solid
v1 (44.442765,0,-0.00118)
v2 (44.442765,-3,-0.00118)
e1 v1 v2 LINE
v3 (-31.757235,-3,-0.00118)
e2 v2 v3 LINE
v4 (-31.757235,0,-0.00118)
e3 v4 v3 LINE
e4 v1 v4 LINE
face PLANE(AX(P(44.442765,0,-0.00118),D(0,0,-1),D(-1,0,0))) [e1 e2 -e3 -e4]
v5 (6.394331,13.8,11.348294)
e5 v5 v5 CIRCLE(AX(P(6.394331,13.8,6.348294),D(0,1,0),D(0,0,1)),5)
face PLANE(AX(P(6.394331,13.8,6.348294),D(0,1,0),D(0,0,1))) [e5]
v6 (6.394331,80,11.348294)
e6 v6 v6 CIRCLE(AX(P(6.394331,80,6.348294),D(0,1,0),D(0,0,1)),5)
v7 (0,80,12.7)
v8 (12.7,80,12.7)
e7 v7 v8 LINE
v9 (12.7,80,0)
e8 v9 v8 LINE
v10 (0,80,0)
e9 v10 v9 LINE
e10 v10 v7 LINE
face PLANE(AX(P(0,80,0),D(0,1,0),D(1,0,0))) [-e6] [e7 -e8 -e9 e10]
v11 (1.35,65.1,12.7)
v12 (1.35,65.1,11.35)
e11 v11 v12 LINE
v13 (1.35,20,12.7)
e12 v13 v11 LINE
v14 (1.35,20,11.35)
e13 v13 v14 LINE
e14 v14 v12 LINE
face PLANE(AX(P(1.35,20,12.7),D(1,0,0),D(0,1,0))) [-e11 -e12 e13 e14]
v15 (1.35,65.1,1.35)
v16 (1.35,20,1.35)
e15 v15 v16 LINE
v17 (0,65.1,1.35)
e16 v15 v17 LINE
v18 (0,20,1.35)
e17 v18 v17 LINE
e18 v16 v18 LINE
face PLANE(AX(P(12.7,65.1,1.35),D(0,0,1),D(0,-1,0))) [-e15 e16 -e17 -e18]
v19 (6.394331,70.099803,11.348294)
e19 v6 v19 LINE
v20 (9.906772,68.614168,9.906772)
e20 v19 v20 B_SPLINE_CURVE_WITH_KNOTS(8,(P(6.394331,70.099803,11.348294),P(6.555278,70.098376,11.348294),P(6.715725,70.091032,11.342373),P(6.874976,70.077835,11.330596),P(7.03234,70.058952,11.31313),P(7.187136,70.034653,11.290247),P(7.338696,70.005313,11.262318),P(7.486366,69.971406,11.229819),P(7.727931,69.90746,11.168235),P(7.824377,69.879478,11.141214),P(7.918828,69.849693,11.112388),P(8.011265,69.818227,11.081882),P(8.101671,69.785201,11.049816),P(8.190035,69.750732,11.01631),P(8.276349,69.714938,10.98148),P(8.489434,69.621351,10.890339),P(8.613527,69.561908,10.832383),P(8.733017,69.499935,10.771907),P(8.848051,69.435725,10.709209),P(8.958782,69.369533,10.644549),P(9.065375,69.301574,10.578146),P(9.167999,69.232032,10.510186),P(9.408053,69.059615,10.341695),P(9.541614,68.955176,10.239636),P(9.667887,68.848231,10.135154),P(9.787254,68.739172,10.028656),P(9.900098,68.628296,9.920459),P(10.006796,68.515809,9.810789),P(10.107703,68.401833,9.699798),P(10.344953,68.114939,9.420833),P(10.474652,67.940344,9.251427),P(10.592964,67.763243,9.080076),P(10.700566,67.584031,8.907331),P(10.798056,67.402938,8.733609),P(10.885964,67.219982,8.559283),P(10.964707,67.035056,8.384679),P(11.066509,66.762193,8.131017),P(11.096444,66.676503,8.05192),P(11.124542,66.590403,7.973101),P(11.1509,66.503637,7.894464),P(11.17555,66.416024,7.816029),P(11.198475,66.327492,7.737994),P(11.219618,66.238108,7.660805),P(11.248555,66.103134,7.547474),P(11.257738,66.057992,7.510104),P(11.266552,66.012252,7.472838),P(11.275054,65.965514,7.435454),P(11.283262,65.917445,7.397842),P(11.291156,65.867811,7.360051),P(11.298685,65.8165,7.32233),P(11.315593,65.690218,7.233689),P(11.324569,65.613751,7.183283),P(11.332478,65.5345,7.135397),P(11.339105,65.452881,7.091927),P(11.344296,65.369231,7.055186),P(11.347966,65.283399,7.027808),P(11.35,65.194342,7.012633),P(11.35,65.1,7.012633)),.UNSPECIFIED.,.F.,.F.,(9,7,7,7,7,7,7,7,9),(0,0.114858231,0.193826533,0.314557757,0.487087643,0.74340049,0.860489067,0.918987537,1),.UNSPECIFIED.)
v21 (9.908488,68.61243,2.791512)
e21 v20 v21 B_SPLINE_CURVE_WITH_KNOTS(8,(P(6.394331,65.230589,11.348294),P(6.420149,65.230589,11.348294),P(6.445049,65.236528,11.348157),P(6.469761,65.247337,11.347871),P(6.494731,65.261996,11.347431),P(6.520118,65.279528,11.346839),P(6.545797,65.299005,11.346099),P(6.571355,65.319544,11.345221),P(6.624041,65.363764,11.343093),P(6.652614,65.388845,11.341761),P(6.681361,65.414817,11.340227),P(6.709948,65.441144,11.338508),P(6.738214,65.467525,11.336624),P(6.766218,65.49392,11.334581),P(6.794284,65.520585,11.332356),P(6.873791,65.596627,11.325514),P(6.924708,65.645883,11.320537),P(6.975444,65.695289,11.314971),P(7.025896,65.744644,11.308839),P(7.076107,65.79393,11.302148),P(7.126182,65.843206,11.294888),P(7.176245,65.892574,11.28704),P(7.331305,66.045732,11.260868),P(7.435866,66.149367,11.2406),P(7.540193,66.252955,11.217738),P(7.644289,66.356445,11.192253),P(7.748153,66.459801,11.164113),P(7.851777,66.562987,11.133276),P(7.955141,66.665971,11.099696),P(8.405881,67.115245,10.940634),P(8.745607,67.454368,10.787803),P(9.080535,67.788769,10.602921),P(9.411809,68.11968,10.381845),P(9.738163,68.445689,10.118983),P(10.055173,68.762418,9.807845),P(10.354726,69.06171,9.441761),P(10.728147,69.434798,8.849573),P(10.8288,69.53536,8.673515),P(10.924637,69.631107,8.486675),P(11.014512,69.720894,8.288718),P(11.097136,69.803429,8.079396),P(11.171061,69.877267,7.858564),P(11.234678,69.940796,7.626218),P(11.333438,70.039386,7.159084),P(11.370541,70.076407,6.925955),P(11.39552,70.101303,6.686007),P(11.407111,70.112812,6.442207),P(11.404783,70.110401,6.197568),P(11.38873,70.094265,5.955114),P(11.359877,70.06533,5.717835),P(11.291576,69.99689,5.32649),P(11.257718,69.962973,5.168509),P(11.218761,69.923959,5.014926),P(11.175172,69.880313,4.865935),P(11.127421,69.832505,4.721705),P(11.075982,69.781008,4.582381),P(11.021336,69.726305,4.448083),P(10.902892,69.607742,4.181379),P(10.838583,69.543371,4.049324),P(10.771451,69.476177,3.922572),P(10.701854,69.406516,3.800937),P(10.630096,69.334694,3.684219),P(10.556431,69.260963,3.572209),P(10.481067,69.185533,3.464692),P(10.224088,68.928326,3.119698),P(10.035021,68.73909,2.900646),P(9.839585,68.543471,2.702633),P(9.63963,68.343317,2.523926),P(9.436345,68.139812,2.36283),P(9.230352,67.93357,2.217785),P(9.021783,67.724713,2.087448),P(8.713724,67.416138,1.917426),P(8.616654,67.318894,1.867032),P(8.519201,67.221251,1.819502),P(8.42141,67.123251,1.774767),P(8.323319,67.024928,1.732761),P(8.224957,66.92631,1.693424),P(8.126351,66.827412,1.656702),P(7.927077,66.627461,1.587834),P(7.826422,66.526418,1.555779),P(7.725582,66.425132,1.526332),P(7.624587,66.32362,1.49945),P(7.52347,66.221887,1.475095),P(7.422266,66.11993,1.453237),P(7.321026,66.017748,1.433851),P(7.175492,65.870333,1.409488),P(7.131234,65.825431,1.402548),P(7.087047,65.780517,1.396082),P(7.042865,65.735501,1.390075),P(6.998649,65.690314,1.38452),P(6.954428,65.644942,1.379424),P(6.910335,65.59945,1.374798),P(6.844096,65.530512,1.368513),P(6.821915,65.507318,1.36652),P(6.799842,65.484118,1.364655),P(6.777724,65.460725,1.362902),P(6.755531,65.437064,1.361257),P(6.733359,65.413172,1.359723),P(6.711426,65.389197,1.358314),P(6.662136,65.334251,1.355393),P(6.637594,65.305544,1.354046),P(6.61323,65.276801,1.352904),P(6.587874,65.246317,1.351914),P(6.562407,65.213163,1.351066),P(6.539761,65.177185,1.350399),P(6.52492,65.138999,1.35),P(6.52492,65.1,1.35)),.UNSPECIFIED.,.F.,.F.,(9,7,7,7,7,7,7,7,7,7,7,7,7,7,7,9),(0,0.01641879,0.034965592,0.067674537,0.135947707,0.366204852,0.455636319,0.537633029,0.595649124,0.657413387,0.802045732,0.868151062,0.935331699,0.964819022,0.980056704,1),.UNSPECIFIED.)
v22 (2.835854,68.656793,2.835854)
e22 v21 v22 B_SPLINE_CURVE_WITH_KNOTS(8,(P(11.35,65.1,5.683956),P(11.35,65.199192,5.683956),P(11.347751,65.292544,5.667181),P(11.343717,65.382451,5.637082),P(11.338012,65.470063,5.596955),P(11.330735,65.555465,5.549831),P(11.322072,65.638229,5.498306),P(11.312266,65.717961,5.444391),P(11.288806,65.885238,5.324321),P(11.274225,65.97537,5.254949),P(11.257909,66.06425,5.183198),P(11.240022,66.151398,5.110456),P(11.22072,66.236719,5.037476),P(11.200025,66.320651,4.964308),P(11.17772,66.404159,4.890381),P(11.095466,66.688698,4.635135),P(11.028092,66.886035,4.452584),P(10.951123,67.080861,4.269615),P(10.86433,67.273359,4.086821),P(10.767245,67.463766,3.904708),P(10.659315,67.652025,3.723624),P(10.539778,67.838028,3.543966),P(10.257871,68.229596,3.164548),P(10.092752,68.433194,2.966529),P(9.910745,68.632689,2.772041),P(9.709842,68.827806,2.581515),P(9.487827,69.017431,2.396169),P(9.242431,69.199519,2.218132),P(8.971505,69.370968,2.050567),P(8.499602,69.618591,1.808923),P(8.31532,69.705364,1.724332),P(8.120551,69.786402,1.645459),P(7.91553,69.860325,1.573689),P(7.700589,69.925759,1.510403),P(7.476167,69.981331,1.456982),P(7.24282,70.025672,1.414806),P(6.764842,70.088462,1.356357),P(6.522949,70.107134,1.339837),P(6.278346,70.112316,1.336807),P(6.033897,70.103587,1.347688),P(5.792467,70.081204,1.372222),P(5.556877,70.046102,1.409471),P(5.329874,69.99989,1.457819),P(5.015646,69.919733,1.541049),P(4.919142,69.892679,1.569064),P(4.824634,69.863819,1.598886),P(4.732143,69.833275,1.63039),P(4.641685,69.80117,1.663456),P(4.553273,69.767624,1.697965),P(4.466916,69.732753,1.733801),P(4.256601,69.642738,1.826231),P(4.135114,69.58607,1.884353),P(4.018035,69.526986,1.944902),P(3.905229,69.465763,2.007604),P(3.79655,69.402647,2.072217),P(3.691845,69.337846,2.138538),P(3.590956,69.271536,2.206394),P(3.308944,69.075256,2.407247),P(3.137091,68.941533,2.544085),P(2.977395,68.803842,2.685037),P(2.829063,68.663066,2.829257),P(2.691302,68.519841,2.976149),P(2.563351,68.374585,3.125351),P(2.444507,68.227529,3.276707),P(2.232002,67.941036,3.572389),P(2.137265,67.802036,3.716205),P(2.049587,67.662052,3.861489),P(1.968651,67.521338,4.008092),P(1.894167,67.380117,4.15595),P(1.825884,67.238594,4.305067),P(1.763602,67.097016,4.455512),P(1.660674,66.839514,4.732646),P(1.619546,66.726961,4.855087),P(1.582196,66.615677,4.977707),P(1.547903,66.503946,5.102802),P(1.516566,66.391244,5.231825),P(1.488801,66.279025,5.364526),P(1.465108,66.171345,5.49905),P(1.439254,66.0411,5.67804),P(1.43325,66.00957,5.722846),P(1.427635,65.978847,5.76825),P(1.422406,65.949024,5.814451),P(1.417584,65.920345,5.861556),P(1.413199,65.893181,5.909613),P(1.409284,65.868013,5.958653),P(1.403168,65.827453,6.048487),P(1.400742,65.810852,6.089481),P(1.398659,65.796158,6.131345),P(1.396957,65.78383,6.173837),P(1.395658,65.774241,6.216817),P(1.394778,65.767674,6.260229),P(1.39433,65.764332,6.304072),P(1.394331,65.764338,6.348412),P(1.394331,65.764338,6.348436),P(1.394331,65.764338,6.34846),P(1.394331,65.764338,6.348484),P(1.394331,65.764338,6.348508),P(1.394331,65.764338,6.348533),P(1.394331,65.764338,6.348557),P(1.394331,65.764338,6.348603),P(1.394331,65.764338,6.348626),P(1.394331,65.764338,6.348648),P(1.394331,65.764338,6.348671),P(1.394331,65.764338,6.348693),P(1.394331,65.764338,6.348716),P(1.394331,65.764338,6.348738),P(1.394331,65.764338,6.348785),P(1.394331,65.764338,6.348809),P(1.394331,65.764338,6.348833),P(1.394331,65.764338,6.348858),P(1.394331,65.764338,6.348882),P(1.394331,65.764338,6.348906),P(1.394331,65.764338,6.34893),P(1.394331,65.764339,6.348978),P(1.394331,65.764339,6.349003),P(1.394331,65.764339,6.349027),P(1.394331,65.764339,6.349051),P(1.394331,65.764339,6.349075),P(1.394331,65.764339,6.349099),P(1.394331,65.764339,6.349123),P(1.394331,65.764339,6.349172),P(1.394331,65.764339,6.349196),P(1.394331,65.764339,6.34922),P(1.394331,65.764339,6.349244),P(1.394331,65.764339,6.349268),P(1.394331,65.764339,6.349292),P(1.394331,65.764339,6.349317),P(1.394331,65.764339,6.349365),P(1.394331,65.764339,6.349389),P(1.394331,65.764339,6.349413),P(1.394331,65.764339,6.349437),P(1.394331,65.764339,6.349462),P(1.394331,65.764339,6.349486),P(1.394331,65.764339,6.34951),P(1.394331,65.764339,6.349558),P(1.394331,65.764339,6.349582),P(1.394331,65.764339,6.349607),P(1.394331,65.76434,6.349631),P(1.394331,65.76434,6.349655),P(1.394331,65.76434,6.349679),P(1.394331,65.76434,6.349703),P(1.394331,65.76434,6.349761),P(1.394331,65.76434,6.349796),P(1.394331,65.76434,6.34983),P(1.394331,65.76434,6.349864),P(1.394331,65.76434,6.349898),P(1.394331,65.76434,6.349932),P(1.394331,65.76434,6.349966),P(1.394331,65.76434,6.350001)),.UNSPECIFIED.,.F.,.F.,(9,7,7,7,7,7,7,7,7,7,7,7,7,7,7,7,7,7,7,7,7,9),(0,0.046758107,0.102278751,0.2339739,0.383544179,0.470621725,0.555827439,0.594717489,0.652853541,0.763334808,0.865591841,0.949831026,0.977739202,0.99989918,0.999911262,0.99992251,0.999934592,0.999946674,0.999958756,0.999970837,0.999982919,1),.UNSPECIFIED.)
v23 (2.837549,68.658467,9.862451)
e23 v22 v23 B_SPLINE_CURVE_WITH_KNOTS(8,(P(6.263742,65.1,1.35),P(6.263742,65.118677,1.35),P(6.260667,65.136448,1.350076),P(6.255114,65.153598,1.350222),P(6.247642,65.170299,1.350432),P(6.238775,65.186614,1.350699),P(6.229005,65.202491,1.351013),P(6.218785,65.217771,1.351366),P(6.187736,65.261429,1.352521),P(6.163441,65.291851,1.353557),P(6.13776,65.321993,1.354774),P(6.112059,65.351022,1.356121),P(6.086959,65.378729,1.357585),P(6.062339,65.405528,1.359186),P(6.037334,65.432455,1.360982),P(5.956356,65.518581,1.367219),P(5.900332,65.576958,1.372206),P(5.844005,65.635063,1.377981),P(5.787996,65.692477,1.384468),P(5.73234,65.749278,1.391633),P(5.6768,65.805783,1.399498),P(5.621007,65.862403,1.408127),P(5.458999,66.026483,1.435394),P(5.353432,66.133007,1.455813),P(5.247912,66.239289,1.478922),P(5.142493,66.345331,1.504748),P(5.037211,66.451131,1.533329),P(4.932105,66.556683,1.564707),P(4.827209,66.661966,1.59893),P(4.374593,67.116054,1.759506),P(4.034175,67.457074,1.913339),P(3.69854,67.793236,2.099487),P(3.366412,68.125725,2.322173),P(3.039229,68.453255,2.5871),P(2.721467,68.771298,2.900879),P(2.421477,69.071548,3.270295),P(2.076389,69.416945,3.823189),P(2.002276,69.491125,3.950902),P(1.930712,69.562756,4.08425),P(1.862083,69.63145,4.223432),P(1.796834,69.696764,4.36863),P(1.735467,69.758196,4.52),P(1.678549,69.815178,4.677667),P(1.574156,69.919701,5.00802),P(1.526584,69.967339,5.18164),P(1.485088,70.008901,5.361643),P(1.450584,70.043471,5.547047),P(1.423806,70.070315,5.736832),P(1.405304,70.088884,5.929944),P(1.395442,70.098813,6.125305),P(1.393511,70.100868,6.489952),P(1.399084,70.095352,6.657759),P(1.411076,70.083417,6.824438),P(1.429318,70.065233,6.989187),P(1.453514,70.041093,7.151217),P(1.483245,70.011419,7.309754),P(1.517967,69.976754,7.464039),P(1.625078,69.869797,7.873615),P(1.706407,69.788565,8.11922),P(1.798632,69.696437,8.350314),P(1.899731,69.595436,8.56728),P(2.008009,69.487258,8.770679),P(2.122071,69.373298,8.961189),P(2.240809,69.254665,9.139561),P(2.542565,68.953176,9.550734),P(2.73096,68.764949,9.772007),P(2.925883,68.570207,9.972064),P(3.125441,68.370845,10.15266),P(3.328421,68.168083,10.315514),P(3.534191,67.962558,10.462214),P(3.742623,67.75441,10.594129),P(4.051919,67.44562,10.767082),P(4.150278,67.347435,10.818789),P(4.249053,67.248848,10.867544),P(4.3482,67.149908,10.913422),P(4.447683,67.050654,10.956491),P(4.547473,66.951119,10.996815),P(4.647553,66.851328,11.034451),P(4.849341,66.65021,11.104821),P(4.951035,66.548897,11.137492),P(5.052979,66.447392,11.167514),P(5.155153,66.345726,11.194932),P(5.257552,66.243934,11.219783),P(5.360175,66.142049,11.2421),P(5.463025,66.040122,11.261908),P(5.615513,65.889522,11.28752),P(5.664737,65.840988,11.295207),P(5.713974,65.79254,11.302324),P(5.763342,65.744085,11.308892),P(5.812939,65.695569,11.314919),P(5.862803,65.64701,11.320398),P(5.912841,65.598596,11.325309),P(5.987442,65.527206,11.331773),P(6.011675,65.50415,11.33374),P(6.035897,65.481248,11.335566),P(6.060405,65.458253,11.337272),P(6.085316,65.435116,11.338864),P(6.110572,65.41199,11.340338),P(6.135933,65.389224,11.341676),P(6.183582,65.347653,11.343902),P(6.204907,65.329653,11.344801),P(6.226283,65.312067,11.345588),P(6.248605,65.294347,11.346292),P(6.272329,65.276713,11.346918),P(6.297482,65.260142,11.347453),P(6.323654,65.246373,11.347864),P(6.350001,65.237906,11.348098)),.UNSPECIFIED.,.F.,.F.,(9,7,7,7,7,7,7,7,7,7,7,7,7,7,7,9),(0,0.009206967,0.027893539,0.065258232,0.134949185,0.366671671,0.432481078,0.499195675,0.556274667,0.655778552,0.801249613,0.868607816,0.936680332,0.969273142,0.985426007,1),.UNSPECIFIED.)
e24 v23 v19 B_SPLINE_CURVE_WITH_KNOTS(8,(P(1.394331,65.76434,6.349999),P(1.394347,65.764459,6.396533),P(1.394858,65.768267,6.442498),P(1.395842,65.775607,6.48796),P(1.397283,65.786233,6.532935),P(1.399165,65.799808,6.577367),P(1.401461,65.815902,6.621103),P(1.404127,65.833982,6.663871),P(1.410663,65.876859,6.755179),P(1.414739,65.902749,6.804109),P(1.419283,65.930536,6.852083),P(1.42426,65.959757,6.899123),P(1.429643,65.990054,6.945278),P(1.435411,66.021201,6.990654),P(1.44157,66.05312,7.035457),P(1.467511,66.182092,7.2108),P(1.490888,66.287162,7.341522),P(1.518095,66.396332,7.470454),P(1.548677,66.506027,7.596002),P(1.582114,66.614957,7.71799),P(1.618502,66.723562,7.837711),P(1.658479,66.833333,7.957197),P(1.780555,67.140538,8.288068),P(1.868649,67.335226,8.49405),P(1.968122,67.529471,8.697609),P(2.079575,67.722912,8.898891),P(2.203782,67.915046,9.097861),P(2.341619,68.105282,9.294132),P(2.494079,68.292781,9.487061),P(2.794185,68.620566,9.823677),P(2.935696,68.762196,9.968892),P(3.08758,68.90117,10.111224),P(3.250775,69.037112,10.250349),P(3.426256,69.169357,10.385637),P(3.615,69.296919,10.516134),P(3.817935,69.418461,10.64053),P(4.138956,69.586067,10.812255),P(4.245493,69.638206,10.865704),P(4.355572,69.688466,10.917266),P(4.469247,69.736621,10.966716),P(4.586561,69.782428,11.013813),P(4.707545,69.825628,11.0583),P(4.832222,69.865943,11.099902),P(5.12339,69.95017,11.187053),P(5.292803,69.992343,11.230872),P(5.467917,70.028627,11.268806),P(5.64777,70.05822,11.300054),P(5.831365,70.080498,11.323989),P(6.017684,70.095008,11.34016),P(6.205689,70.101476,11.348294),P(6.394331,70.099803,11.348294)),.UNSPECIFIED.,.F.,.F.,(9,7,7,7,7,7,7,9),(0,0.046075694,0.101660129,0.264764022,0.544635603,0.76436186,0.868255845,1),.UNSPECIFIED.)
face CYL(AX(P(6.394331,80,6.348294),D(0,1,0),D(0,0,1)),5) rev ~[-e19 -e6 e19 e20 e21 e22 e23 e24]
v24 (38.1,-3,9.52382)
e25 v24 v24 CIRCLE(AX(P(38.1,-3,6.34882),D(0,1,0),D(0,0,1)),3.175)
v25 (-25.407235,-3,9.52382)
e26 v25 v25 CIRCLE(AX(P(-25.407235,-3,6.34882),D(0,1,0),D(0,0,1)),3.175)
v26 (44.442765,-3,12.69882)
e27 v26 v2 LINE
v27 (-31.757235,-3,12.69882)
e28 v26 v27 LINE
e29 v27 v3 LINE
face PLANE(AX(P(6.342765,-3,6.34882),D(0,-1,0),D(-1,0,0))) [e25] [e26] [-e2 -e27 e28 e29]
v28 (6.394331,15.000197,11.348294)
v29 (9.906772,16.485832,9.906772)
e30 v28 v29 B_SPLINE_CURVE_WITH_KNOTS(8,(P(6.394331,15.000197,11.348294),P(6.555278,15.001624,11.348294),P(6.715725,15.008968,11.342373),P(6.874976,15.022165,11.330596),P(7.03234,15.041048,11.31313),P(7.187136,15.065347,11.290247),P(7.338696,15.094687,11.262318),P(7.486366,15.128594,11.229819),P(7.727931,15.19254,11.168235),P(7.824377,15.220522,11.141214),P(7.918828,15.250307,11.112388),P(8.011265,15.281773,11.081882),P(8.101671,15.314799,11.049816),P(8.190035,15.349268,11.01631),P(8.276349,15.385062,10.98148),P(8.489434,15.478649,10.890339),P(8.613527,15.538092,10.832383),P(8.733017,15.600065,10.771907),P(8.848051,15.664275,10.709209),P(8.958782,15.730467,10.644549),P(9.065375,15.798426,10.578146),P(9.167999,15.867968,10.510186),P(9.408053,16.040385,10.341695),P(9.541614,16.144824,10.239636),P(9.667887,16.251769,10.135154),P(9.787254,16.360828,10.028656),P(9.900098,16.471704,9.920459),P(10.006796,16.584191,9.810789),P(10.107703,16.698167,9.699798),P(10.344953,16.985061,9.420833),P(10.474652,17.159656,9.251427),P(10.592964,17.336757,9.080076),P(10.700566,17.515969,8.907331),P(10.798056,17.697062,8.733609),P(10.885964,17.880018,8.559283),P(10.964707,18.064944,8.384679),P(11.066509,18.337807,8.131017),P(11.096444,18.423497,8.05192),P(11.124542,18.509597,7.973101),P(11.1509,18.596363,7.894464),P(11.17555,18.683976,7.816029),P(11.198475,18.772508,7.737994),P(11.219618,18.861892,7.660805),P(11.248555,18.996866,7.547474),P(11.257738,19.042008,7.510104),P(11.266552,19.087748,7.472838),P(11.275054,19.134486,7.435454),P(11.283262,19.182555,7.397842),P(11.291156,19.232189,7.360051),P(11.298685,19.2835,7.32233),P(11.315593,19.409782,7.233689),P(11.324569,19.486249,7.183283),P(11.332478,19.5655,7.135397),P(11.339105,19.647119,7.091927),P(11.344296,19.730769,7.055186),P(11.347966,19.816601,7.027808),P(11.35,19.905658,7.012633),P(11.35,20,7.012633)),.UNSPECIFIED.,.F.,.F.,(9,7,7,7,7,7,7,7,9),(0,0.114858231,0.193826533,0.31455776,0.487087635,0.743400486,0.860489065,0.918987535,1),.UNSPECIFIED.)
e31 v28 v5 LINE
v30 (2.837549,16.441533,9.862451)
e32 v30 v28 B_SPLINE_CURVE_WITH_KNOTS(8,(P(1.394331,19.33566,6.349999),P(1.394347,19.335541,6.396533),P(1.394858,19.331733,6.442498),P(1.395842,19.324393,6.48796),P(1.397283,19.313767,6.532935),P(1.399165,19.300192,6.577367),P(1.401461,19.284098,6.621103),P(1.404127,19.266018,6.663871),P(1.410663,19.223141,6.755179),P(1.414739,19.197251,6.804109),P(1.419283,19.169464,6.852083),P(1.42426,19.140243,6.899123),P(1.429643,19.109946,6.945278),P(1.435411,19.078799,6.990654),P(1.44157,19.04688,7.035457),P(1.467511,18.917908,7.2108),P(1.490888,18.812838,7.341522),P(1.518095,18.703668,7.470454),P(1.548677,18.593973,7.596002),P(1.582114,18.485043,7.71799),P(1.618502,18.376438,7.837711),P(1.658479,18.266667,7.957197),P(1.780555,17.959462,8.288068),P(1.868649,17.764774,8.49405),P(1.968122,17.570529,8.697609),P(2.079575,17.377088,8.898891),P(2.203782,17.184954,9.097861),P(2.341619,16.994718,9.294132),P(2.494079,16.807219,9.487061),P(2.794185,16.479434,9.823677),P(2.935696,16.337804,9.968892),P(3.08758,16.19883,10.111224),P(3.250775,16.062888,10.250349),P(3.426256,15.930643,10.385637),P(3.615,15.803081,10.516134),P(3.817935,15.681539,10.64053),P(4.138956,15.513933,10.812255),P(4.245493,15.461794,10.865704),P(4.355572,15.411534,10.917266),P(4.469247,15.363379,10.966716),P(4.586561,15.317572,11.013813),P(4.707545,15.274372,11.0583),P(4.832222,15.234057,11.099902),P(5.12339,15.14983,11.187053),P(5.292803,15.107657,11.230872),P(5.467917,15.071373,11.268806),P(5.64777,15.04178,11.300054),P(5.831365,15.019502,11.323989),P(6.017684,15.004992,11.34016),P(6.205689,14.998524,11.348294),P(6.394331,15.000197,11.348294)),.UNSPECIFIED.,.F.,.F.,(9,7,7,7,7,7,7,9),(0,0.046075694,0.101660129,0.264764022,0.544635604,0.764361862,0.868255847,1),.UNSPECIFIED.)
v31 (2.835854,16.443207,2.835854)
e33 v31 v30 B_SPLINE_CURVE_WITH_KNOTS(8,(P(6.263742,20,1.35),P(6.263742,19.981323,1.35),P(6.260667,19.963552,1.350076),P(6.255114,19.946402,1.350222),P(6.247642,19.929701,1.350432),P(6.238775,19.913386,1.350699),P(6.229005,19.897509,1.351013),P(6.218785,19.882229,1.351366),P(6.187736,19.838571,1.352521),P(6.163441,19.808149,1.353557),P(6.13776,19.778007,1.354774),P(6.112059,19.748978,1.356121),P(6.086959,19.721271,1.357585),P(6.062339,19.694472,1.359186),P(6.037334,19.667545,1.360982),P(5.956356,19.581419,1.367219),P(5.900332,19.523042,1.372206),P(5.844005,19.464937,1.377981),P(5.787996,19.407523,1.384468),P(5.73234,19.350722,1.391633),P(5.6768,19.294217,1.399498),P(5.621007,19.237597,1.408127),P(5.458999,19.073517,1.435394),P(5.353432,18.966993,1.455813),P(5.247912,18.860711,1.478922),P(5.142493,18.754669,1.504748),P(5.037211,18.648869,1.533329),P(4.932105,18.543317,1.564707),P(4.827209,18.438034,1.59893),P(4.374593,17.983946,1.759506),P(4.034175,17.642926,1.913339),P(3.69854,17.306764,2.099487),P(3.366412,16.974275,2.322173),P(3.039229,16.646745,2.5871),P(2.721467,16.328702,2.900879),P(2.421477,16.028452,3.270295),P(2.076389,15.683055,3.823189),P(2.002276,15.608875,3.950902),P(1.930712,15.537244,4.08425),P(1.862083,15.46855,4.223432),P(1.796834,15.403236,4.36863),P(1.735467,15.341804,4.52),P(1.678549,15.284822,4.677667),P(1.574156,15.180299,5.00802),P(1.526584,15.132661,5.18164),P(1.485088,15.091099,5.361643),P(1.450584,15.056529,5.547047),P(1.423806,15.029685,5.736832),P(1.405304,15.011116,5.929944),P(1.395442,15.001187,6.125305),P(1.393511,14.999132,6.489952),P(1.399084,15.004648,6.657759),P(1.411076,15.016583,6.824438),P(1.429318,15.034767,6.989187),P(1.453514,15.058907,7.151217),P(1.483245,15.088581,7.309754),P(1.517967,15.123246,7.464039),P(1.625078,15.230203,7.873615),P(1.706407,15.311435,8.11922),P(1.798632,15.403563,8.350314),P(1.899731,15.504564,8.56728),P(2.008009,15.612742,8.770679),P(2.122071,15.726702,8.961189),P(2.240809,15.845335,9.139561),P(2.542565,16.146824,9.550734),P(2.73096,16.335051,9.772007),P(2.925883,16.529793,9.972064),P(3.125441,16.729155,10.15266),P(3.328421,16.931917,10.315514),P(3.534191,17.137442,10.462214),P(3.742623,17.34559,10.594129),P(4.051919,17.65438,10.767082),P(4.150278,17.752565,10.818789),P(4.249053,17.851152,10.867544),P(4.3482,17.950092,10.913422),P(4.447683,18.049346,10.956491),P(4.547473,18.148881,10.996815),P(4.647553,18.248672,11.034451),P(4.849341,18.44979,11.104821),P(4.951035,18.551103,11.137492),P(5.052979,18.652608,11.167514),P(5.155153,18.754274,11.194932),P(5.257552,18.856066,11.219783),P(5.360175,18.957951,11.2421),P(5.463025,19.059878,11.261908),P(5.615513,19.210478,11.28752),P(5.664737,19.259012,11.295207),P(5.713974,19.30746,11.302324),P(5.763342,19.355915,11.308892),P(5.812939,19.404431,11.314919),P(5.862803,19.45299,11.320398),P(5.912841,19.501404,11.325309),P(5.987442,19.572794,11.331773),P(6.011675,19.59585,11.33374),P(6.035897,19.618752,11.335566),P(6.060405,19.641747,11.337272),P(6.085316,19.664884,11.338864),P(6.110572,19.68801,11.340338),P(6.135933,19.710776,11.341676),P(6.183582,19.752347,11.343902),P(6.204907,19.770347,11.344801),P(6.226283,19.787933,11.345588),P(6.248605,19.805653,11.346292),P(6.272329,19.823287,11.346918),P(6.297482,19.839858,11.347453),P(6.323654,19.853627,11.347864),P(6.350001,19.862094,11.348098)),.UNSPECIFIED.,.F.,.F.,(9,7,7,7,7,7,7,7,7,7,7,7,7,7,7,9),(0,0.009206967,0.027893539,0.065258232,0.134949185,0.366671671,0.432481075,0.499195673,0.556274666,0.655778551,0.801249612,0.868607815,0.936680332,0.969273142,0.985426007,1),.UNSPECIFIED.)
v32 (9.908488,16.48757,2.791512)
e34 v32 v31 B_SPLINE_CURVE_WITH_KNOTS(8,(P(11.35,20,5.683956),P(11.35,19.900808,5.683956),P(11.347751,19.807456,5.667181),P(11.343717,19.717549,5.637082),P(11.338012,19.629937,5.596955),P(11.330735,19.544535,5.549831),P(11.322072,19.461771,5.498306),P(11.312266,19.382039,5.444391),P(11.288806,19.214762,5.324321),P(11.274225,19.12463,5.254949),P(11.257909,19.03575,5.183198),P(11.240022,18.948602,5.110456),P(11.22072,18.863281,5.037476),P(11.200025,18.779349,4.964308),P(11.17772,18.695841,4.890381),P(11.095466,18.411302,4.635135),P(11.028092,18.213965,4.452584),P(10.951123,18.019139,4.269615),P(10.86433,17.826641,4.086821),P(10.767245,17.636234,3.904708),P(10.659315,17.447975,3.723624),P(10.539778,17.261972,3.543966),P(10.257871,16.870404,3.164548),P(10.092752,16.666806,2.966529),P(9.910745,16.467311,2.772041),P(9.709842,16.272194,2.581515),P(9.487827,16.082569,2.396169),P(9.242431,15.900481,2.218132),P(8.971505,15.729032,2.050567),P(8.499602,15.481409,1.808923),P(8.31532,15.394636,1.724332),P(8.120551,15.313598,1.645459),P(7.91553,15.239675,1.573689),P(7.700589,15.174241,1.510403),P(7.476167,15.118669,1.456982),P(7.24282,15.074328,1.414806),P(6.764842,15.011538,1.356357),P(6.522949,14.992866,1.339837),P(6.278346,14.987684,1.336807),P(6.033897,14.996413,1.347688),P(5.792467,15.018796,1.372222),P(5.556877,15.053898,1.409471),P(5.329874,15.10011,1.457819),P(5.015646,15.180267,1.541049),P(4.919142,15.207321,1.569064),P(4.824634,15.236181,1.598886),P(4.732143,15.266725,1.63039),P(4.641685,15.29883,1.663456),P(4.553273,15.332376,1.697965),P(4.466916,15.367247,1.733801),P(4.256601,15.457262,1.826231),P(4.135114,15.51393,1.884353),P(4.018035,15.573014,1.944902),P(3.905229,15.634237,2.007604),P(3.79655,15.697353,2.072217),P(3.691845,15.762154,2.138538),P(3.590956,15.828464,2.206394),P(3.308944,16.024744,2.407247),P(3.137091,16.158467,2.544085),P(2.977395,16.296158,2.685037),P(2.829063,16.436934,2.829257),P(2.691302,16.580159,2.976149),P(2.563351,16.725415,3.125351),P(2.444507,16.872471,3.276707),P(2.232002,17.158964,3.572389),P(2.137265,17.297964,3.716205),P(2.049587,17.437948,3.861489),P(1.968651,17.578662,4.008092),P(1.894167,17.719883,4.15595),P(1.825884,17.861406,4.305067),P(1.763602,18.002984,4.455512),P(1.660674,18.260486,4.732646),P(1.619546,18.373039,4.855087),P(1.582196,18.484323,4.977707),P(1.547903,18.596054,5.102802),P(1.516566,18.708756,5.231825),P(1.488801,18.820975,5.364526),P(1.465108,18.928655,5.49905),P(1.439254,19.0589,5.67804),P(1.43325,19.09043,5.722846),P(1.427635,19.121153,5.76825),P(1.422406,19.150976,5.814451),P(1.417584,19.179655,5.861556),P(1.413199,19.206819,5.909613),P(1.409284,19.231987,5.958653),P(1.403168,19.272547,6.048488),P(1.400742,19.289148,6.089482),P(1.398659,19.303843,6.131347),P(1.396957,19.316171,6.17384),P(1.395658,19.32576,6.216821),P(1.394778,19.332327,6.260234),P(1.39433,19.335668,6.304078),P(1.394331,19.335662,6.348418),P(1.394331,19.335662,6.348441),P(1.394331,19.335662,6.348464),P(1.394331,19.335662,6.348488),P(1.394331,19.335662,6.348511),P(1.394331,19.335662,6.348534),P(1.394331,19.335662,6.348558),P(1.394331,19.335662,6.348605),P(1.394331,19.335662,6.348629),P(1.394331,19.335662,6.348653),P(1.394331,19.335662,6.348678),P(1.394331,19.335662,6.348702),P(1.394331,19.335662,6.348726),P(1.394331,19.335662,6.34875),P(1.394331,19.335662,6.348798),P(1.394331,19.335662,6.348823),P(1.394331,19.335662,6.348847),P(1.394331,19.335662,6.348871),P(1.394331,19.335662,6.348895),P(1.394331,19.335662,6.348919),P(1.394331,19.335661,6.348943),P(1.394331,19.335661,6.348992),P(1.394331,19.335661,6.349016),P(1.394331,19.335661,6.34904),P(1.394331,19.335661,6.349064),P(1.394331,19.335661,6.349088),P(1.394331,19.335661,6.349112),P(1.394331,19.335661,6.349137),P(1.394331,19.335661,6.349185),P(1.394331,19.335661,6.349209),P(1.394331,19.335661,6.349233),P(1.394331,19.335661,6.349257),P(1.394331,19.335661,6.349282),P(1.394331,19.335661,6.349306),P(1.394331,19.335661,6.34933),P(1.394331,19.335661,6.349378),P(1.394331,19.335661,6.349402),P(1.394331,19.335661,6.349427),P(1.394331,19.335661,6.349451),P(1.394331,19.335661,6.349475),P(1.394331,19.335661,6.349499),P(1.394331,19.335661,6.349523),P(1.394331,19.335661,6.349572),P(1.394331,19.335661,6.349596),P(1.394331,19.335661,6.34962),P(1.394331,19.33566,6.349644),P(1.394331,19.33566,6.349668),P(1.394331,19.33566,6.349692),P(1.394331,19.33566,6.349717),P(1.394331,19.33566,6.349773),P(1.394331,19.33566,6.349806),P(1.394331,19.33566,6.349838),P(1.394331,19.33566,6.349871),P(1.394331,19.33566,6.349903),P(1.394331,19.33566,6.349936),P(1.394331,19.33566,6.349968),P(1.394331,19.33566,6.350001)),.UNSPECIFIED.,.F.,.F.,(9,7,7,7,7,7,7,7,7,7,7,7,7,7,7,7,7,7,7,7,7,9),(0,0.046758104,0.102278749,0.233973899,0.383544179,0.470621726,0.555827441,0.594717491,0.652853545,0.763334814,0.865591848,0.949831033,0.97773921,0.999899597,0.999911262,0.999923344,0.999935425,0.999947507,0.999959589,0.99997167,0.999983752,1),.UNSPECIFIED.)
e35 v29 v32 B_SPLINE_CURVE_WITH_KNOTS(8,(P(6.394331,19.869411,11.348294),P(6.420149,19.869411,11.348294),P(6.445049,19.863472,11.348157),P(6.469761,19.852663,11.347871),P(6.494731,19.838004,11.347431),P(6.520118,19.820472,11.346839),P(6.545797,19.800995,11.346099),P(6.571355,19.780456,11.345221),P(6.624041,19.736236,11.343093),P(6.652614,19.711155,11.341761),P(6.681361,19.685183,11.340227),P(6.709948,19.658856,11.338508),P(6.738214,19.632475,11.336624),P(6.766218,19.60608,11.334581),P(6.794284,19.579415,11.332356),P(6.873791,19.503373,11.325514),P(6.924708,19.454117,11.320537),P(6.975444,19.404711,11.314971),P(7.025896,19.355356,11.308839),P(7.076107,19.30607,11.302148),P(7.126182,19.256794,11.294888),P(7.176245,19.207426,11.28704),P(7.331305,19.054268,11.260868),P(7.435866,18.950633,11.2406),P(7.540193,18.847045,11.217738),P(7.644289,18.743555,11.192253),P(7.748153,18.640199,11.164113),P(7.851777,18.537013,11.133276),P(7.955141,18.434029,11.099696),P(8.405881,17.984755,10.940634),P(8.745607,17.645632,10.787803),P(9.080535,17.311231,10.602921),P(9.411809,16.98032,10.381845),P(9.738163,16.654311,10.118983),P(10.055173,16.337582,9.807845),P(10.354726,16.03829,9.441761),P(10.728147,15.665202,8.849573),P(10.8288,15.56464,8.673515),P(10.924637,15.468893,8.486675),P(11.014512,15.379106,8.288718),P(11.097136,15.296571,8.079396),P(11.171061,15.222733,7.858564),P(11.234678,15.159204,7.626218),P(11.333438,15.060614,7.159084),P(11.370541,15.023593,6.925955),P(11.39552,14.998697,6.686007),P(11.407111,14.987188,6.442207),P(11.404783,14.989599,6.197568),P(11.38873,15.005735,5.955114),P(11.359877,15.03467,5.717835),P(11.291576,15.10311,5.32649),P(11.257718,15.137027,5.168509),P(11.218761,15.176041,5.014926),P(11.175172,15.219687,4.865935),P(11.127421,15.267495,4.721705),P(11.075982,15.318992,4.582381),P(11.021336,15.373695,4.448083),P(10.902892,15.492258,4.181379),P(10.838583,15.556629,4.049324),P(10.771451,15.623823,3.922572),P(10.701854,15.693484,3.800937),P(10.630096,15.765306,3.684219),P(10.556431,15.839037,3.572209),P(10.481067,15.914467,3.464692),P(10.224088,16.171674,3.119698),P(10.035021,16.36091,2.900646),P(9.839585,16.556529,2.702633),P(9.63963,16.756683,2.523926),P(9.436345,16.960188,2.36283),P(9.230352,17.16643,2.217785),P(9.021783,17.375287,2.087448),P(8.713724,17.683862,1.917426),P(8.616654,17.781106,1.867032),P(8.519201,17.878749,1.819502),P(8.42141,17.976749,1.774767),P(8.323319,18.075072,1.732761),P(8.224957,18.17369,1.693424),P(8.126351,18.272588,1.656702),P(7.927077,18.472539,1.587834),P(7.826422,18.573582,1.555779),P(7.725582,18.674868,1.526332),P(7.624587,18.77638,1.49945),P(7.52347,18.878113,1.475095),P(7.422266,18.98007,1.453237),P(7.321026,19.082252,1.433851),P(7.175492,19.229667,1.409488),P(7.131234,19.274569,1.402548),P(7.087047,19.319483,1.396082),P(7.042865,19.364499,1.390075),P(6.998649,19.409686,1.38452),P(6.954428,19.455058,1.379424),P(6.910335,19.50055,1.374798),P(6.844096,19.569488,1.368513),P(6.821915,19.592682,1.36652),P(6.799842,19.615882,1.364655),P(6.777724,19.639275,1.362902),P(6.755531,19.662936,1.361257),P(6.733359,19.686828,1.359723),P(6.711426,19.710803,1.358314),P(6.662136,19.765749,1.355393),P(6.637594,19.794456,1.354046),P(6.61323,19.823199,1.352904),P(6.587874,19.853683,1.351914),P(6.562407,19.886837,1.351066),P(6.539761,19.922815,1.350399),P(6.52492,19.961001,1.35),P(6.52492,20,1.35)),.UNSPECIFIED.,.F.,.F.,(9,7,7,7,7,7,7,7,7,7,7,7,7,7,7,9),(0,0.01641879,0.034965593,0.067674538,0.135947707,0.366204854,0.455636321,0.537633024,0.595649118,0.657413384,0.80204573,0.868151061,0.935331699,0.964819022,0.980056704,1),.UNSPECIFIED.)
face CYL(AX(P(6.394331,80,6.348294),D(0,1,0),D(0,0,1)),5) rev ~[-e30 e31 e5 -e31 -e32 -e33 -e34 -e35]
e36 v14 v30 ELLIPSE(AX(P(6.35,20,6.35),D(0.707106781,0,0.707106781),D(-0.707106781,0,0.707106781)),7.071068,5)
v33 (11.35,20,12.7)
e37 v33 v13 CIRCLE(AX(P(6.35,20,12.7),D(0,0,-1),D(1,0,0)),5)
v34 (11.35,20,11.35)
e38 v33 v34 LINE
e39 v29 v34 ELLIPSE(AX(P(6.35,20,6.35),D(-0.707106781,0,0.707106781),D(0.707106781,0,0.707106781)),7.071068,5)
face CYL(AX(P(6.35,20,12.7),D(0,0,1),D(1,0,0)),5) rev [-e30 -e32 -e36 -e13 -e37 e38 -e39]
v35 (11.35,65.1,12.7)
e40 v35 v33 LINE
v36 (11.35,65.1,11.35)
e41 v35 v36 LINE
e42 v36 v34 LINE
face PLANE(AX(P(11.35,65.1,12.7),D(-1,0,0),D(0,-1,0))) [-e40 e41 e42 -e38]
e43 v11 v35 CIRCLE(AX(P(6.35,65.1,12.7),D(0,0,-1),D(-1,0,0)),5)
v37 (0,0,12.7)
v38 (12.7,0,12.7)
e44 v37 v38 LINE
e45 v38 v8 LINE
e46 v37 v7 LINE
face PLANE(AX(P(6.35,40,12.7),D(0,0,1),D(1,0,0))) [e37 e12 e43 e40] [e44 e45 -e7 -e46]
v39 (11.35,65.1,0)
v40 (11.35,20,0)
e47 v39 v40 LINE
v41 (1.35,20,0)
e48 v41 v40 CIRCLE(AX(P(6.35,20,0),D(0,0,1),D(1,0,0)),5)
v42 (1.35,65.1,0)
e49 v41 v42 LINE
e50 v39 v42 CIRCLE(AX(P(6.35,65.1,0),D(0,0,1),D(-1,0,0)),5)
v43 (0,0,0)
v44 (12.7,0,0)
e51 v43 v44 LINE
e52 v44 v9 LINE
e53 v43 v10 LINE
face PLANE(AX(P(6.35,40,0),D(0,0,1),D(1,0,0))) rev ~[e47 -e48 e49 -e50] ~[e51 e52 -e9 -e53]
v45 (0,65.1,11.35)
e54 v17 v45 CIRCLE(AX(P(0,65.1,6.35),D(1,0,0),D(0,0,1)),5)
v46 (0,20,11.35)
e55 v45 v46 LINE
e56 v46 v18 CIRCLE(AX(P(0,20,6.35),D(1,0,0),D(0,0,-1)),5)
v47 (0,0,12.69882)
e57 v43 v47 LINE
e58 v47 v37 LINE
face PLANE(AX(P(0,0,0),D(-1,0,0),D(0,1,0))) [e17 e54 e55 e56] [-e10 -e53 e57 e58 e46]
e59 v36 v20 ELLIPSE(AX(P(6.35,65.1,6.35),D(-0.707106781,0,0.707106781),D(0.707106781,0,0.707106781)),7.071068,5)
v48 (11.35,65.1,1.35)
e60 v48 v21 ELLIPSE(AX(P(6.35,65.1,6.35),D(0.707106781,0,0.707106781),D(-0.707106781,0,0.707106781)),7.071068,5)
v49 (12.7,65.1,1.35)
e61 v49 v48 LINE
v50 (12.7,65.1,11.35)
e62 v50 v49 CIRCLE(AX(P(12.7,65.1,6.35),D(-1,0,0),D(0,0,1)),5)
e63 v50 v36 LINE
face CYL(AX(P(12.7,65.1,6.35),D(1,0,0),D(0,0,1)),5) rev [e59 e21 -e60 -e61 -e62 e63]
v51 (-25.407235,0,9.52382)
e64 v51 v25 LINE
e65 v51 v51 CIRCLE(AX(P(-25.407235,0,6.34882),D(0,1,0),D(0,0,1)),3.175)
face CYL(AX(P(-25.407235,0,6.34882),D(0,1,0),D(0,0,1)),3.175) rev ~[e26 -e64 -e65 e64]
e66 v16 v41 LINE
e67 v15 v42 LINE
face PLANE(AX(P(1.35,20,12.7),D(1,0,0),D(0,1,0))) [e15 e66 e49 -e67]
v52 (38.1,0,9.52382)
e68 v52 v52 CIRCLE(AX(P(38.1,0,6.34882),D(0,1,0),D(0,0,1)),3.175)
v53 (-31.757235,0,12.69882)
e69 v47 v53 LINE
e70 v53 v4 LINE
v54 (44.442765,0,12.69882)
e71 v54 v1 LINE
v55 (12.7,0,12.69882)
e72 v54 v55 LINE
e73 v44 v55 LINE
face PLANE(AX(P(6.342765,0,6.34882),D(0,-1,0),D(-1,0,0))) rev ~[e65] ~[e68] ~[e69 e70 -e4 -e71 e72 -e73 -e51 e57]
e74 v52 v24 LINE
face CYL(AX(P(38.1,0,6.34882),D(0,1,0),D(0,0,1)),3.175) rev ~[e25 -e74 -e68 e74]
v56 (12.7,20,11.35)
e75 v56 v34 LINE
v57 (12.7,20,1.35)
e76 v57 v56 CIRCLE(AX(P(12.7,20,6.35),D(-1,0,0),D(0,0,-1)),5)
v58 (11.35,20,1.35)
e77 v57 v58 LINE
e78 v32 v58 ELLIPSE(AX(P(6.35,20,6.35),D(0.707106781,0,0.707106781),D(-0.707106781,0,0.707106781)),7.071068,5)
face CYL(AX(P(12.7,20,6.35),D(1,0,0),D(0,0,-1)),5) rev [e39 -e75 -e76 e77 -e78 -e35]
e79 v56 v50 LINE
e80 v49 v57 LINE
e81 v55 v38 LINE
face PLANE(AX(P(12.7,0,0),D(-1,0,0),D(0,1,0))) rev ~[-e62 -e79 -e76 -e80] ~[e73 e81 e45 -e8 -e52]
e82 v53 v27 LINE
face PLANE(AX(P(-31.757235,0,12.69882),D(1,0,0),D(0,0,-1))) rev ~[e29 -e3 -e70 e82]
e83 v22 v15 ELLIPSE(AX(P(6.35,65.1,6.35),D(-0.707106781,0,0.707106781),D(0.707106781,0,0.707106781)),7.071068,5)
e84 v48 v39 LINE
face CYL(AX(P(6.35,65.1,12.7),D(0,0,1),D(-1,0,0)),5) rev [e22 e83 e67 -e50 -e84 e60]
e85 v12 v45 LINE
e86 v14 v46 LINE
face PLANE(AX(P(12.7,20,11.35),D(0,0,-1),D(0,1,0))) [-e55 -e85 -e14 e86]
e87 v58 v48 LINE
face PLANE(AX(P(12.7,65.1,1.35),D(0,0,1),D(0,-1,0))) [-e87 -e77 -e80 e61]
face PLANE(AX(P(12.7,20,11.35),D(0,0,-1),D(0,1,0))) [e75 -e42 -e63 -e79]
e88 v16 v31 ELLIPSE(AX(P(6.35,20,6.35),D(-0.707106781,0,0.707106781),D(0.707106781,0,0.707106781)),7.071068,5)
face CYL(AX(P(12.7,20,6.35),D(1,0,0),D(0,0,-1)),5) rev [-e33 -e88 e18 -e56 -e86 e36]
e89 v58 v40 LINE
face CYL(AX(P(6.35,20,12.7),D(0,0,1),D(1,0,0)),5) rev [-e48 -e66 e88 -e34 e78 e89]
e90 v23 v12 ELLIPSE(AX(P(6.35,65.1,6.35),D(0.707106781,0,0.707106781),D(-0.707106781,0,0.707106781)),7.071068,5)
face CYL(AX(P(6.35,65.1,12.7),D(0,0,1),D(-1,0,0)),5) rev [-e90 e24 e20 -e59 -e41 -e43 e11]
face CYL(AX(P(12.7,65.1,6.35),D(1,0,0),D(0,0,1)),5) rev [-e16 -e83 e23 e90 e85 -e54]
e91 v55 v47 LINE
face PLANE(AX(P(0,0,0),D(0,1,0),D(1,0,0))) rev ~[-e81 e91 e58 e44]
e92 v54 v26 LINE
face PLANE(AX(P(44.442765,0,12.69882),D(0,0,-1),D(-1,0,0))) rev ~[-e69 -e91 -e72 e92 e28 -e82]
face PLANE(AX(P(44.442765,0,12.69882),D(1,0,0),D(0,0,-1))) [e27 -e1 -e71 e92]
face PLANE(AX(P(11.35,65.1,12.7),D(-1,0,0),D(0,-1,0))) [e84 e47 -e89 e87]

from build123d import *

# Parameters (mm, degrees)
SKETCH1_W           = 12.7
SKETCH1_H           = 80
BOSS_EXTRUDE1_DEPTH = 12.7
SKETCH4_W           = 76.2
SKETCH4_H           = 12.7
BOSS_EXTRUDE3_DEPTH = 3
CUT_EXTRUDE5_DEPTH  = 23
CUT_EXTRUDE6_DEPTH  = 23
SKETCH16_R          = 5
CUT_EXTRUDE8_DEPTH  = 66.2
SKETCH17_R          = 3.175
CUT_EXTRUDE9_DEPTH  = 3
SKETCH18_R          = 3.175
CUT_EXTRUDE10_DEPTH = 3


with BuildPart() as part:
    # Sketch1 → Boss-Extrude1 (new body)
    with BuildSketch(Plane.XY):
        with Locations((6.35, 40)):
            Rectangle(SKETCH1_W, SKETCH1_H)
    extrude(amount=BOSS_EXTRUDE1_DEPTH)

    # Sketch4 → Boss-Extrude3 (add)
    with BuildSketch(Plane(origin=(0, 0, 0), x_dir=(-1, 0, 0), z_dir=(0, -1, 0))):
        with Locations((-6.342764756, -6.3488204)):
            Rectangle(SKETCH4_W, SKETCH4_H)
    extrude(amount=BOSS_EXTRUDE3_DEPTH)

    # Sketch12 → Cut-Extrude5 (cut)
    with BuildSketch(Plane.XY.offset(12.7)):
        with BuildLine():
            Line((1.35, 20), (1.35, 65.1))
            ThreePointArc((1.35, 65.1), (6.35, 70.1), (11.35, 65.1))
            Line((11.35, 65.1), (11.35, 20))
            ThreePointArc((11.35, 20), (6.35, 15), (1.35, 20))
        make_face()
    extrude(amount=-CUT_EXTRUDE5_DEPTH, mode=Mode.SUBTRACT)

    # Sketch13 → Cut-Extrude6 (cut)
    with BuildSketch(Plane(origin=(12.7, 0, 0), x_dir=(0, 0, -1), z_dir=(1, 0, 0))):
        with BuildLine():
            Line((-11.35, 20), (-11.35, 65.1))
            ThreePointArc((-11.35, 65.1), (-6.35, 70.1), (-1.35, 65.1))
            Line((-1.35, 65.1), (-1.35, 20))
            ThreePointArc((-1.35, 20), (-6.35, 15), (-11.35, 20))
        make_face()
    extrude(amount=-CUT_EXTRUDE6_DEPTH, mode=Mode.SUBTRACT)

    # Sketch16 → Cut-Extrude8 (cut)
    with BuildSketch(Plane(origin=(0, 80, 0), x_dir=(1, 0, 0), z_dir=(0, 1, 0))):
        with Locations(Location((6.394331047, -6.34829435, 0), (0, 0, 270))):
            Circle(SKETCH16_R)
    extrude(amount=-CUT_EXTRUDE8_DEPTH, mode=Mode.SUBTRACT)

    # Sketch17 → Cut-Extrude9 (cut)
    with BuildSketch(Plane(origin=(0, 0, 0), x_dir=(1, 0, 0), z_dir=(0, 1, 0))):
        with Locations(Location((-25.407235244, -6.3488204, 0), (0, 0, 270))):
            Circle(SKETCH17_R)
    extrude(amount=-CUT_EXTRUDE9_DEPTH, mode=Mode.SUBTRACT)

    # Sketch18 → Cut-Extrude10 (cut)
    with BuildSketch(Plane(origin=(0, 0, 0), x_dir=(1, 0, 0), z_dir=(0, 1, 0))):
        with Locations(Location((38.1, -6.3488204, 0), (0, 0, 270))):
            Circle(SKETCH18_R)
    extrude(amount=-CUT_EXTRUDE10_DEPTH, mode=Mode.SUBTRACT)


solid = part.part
